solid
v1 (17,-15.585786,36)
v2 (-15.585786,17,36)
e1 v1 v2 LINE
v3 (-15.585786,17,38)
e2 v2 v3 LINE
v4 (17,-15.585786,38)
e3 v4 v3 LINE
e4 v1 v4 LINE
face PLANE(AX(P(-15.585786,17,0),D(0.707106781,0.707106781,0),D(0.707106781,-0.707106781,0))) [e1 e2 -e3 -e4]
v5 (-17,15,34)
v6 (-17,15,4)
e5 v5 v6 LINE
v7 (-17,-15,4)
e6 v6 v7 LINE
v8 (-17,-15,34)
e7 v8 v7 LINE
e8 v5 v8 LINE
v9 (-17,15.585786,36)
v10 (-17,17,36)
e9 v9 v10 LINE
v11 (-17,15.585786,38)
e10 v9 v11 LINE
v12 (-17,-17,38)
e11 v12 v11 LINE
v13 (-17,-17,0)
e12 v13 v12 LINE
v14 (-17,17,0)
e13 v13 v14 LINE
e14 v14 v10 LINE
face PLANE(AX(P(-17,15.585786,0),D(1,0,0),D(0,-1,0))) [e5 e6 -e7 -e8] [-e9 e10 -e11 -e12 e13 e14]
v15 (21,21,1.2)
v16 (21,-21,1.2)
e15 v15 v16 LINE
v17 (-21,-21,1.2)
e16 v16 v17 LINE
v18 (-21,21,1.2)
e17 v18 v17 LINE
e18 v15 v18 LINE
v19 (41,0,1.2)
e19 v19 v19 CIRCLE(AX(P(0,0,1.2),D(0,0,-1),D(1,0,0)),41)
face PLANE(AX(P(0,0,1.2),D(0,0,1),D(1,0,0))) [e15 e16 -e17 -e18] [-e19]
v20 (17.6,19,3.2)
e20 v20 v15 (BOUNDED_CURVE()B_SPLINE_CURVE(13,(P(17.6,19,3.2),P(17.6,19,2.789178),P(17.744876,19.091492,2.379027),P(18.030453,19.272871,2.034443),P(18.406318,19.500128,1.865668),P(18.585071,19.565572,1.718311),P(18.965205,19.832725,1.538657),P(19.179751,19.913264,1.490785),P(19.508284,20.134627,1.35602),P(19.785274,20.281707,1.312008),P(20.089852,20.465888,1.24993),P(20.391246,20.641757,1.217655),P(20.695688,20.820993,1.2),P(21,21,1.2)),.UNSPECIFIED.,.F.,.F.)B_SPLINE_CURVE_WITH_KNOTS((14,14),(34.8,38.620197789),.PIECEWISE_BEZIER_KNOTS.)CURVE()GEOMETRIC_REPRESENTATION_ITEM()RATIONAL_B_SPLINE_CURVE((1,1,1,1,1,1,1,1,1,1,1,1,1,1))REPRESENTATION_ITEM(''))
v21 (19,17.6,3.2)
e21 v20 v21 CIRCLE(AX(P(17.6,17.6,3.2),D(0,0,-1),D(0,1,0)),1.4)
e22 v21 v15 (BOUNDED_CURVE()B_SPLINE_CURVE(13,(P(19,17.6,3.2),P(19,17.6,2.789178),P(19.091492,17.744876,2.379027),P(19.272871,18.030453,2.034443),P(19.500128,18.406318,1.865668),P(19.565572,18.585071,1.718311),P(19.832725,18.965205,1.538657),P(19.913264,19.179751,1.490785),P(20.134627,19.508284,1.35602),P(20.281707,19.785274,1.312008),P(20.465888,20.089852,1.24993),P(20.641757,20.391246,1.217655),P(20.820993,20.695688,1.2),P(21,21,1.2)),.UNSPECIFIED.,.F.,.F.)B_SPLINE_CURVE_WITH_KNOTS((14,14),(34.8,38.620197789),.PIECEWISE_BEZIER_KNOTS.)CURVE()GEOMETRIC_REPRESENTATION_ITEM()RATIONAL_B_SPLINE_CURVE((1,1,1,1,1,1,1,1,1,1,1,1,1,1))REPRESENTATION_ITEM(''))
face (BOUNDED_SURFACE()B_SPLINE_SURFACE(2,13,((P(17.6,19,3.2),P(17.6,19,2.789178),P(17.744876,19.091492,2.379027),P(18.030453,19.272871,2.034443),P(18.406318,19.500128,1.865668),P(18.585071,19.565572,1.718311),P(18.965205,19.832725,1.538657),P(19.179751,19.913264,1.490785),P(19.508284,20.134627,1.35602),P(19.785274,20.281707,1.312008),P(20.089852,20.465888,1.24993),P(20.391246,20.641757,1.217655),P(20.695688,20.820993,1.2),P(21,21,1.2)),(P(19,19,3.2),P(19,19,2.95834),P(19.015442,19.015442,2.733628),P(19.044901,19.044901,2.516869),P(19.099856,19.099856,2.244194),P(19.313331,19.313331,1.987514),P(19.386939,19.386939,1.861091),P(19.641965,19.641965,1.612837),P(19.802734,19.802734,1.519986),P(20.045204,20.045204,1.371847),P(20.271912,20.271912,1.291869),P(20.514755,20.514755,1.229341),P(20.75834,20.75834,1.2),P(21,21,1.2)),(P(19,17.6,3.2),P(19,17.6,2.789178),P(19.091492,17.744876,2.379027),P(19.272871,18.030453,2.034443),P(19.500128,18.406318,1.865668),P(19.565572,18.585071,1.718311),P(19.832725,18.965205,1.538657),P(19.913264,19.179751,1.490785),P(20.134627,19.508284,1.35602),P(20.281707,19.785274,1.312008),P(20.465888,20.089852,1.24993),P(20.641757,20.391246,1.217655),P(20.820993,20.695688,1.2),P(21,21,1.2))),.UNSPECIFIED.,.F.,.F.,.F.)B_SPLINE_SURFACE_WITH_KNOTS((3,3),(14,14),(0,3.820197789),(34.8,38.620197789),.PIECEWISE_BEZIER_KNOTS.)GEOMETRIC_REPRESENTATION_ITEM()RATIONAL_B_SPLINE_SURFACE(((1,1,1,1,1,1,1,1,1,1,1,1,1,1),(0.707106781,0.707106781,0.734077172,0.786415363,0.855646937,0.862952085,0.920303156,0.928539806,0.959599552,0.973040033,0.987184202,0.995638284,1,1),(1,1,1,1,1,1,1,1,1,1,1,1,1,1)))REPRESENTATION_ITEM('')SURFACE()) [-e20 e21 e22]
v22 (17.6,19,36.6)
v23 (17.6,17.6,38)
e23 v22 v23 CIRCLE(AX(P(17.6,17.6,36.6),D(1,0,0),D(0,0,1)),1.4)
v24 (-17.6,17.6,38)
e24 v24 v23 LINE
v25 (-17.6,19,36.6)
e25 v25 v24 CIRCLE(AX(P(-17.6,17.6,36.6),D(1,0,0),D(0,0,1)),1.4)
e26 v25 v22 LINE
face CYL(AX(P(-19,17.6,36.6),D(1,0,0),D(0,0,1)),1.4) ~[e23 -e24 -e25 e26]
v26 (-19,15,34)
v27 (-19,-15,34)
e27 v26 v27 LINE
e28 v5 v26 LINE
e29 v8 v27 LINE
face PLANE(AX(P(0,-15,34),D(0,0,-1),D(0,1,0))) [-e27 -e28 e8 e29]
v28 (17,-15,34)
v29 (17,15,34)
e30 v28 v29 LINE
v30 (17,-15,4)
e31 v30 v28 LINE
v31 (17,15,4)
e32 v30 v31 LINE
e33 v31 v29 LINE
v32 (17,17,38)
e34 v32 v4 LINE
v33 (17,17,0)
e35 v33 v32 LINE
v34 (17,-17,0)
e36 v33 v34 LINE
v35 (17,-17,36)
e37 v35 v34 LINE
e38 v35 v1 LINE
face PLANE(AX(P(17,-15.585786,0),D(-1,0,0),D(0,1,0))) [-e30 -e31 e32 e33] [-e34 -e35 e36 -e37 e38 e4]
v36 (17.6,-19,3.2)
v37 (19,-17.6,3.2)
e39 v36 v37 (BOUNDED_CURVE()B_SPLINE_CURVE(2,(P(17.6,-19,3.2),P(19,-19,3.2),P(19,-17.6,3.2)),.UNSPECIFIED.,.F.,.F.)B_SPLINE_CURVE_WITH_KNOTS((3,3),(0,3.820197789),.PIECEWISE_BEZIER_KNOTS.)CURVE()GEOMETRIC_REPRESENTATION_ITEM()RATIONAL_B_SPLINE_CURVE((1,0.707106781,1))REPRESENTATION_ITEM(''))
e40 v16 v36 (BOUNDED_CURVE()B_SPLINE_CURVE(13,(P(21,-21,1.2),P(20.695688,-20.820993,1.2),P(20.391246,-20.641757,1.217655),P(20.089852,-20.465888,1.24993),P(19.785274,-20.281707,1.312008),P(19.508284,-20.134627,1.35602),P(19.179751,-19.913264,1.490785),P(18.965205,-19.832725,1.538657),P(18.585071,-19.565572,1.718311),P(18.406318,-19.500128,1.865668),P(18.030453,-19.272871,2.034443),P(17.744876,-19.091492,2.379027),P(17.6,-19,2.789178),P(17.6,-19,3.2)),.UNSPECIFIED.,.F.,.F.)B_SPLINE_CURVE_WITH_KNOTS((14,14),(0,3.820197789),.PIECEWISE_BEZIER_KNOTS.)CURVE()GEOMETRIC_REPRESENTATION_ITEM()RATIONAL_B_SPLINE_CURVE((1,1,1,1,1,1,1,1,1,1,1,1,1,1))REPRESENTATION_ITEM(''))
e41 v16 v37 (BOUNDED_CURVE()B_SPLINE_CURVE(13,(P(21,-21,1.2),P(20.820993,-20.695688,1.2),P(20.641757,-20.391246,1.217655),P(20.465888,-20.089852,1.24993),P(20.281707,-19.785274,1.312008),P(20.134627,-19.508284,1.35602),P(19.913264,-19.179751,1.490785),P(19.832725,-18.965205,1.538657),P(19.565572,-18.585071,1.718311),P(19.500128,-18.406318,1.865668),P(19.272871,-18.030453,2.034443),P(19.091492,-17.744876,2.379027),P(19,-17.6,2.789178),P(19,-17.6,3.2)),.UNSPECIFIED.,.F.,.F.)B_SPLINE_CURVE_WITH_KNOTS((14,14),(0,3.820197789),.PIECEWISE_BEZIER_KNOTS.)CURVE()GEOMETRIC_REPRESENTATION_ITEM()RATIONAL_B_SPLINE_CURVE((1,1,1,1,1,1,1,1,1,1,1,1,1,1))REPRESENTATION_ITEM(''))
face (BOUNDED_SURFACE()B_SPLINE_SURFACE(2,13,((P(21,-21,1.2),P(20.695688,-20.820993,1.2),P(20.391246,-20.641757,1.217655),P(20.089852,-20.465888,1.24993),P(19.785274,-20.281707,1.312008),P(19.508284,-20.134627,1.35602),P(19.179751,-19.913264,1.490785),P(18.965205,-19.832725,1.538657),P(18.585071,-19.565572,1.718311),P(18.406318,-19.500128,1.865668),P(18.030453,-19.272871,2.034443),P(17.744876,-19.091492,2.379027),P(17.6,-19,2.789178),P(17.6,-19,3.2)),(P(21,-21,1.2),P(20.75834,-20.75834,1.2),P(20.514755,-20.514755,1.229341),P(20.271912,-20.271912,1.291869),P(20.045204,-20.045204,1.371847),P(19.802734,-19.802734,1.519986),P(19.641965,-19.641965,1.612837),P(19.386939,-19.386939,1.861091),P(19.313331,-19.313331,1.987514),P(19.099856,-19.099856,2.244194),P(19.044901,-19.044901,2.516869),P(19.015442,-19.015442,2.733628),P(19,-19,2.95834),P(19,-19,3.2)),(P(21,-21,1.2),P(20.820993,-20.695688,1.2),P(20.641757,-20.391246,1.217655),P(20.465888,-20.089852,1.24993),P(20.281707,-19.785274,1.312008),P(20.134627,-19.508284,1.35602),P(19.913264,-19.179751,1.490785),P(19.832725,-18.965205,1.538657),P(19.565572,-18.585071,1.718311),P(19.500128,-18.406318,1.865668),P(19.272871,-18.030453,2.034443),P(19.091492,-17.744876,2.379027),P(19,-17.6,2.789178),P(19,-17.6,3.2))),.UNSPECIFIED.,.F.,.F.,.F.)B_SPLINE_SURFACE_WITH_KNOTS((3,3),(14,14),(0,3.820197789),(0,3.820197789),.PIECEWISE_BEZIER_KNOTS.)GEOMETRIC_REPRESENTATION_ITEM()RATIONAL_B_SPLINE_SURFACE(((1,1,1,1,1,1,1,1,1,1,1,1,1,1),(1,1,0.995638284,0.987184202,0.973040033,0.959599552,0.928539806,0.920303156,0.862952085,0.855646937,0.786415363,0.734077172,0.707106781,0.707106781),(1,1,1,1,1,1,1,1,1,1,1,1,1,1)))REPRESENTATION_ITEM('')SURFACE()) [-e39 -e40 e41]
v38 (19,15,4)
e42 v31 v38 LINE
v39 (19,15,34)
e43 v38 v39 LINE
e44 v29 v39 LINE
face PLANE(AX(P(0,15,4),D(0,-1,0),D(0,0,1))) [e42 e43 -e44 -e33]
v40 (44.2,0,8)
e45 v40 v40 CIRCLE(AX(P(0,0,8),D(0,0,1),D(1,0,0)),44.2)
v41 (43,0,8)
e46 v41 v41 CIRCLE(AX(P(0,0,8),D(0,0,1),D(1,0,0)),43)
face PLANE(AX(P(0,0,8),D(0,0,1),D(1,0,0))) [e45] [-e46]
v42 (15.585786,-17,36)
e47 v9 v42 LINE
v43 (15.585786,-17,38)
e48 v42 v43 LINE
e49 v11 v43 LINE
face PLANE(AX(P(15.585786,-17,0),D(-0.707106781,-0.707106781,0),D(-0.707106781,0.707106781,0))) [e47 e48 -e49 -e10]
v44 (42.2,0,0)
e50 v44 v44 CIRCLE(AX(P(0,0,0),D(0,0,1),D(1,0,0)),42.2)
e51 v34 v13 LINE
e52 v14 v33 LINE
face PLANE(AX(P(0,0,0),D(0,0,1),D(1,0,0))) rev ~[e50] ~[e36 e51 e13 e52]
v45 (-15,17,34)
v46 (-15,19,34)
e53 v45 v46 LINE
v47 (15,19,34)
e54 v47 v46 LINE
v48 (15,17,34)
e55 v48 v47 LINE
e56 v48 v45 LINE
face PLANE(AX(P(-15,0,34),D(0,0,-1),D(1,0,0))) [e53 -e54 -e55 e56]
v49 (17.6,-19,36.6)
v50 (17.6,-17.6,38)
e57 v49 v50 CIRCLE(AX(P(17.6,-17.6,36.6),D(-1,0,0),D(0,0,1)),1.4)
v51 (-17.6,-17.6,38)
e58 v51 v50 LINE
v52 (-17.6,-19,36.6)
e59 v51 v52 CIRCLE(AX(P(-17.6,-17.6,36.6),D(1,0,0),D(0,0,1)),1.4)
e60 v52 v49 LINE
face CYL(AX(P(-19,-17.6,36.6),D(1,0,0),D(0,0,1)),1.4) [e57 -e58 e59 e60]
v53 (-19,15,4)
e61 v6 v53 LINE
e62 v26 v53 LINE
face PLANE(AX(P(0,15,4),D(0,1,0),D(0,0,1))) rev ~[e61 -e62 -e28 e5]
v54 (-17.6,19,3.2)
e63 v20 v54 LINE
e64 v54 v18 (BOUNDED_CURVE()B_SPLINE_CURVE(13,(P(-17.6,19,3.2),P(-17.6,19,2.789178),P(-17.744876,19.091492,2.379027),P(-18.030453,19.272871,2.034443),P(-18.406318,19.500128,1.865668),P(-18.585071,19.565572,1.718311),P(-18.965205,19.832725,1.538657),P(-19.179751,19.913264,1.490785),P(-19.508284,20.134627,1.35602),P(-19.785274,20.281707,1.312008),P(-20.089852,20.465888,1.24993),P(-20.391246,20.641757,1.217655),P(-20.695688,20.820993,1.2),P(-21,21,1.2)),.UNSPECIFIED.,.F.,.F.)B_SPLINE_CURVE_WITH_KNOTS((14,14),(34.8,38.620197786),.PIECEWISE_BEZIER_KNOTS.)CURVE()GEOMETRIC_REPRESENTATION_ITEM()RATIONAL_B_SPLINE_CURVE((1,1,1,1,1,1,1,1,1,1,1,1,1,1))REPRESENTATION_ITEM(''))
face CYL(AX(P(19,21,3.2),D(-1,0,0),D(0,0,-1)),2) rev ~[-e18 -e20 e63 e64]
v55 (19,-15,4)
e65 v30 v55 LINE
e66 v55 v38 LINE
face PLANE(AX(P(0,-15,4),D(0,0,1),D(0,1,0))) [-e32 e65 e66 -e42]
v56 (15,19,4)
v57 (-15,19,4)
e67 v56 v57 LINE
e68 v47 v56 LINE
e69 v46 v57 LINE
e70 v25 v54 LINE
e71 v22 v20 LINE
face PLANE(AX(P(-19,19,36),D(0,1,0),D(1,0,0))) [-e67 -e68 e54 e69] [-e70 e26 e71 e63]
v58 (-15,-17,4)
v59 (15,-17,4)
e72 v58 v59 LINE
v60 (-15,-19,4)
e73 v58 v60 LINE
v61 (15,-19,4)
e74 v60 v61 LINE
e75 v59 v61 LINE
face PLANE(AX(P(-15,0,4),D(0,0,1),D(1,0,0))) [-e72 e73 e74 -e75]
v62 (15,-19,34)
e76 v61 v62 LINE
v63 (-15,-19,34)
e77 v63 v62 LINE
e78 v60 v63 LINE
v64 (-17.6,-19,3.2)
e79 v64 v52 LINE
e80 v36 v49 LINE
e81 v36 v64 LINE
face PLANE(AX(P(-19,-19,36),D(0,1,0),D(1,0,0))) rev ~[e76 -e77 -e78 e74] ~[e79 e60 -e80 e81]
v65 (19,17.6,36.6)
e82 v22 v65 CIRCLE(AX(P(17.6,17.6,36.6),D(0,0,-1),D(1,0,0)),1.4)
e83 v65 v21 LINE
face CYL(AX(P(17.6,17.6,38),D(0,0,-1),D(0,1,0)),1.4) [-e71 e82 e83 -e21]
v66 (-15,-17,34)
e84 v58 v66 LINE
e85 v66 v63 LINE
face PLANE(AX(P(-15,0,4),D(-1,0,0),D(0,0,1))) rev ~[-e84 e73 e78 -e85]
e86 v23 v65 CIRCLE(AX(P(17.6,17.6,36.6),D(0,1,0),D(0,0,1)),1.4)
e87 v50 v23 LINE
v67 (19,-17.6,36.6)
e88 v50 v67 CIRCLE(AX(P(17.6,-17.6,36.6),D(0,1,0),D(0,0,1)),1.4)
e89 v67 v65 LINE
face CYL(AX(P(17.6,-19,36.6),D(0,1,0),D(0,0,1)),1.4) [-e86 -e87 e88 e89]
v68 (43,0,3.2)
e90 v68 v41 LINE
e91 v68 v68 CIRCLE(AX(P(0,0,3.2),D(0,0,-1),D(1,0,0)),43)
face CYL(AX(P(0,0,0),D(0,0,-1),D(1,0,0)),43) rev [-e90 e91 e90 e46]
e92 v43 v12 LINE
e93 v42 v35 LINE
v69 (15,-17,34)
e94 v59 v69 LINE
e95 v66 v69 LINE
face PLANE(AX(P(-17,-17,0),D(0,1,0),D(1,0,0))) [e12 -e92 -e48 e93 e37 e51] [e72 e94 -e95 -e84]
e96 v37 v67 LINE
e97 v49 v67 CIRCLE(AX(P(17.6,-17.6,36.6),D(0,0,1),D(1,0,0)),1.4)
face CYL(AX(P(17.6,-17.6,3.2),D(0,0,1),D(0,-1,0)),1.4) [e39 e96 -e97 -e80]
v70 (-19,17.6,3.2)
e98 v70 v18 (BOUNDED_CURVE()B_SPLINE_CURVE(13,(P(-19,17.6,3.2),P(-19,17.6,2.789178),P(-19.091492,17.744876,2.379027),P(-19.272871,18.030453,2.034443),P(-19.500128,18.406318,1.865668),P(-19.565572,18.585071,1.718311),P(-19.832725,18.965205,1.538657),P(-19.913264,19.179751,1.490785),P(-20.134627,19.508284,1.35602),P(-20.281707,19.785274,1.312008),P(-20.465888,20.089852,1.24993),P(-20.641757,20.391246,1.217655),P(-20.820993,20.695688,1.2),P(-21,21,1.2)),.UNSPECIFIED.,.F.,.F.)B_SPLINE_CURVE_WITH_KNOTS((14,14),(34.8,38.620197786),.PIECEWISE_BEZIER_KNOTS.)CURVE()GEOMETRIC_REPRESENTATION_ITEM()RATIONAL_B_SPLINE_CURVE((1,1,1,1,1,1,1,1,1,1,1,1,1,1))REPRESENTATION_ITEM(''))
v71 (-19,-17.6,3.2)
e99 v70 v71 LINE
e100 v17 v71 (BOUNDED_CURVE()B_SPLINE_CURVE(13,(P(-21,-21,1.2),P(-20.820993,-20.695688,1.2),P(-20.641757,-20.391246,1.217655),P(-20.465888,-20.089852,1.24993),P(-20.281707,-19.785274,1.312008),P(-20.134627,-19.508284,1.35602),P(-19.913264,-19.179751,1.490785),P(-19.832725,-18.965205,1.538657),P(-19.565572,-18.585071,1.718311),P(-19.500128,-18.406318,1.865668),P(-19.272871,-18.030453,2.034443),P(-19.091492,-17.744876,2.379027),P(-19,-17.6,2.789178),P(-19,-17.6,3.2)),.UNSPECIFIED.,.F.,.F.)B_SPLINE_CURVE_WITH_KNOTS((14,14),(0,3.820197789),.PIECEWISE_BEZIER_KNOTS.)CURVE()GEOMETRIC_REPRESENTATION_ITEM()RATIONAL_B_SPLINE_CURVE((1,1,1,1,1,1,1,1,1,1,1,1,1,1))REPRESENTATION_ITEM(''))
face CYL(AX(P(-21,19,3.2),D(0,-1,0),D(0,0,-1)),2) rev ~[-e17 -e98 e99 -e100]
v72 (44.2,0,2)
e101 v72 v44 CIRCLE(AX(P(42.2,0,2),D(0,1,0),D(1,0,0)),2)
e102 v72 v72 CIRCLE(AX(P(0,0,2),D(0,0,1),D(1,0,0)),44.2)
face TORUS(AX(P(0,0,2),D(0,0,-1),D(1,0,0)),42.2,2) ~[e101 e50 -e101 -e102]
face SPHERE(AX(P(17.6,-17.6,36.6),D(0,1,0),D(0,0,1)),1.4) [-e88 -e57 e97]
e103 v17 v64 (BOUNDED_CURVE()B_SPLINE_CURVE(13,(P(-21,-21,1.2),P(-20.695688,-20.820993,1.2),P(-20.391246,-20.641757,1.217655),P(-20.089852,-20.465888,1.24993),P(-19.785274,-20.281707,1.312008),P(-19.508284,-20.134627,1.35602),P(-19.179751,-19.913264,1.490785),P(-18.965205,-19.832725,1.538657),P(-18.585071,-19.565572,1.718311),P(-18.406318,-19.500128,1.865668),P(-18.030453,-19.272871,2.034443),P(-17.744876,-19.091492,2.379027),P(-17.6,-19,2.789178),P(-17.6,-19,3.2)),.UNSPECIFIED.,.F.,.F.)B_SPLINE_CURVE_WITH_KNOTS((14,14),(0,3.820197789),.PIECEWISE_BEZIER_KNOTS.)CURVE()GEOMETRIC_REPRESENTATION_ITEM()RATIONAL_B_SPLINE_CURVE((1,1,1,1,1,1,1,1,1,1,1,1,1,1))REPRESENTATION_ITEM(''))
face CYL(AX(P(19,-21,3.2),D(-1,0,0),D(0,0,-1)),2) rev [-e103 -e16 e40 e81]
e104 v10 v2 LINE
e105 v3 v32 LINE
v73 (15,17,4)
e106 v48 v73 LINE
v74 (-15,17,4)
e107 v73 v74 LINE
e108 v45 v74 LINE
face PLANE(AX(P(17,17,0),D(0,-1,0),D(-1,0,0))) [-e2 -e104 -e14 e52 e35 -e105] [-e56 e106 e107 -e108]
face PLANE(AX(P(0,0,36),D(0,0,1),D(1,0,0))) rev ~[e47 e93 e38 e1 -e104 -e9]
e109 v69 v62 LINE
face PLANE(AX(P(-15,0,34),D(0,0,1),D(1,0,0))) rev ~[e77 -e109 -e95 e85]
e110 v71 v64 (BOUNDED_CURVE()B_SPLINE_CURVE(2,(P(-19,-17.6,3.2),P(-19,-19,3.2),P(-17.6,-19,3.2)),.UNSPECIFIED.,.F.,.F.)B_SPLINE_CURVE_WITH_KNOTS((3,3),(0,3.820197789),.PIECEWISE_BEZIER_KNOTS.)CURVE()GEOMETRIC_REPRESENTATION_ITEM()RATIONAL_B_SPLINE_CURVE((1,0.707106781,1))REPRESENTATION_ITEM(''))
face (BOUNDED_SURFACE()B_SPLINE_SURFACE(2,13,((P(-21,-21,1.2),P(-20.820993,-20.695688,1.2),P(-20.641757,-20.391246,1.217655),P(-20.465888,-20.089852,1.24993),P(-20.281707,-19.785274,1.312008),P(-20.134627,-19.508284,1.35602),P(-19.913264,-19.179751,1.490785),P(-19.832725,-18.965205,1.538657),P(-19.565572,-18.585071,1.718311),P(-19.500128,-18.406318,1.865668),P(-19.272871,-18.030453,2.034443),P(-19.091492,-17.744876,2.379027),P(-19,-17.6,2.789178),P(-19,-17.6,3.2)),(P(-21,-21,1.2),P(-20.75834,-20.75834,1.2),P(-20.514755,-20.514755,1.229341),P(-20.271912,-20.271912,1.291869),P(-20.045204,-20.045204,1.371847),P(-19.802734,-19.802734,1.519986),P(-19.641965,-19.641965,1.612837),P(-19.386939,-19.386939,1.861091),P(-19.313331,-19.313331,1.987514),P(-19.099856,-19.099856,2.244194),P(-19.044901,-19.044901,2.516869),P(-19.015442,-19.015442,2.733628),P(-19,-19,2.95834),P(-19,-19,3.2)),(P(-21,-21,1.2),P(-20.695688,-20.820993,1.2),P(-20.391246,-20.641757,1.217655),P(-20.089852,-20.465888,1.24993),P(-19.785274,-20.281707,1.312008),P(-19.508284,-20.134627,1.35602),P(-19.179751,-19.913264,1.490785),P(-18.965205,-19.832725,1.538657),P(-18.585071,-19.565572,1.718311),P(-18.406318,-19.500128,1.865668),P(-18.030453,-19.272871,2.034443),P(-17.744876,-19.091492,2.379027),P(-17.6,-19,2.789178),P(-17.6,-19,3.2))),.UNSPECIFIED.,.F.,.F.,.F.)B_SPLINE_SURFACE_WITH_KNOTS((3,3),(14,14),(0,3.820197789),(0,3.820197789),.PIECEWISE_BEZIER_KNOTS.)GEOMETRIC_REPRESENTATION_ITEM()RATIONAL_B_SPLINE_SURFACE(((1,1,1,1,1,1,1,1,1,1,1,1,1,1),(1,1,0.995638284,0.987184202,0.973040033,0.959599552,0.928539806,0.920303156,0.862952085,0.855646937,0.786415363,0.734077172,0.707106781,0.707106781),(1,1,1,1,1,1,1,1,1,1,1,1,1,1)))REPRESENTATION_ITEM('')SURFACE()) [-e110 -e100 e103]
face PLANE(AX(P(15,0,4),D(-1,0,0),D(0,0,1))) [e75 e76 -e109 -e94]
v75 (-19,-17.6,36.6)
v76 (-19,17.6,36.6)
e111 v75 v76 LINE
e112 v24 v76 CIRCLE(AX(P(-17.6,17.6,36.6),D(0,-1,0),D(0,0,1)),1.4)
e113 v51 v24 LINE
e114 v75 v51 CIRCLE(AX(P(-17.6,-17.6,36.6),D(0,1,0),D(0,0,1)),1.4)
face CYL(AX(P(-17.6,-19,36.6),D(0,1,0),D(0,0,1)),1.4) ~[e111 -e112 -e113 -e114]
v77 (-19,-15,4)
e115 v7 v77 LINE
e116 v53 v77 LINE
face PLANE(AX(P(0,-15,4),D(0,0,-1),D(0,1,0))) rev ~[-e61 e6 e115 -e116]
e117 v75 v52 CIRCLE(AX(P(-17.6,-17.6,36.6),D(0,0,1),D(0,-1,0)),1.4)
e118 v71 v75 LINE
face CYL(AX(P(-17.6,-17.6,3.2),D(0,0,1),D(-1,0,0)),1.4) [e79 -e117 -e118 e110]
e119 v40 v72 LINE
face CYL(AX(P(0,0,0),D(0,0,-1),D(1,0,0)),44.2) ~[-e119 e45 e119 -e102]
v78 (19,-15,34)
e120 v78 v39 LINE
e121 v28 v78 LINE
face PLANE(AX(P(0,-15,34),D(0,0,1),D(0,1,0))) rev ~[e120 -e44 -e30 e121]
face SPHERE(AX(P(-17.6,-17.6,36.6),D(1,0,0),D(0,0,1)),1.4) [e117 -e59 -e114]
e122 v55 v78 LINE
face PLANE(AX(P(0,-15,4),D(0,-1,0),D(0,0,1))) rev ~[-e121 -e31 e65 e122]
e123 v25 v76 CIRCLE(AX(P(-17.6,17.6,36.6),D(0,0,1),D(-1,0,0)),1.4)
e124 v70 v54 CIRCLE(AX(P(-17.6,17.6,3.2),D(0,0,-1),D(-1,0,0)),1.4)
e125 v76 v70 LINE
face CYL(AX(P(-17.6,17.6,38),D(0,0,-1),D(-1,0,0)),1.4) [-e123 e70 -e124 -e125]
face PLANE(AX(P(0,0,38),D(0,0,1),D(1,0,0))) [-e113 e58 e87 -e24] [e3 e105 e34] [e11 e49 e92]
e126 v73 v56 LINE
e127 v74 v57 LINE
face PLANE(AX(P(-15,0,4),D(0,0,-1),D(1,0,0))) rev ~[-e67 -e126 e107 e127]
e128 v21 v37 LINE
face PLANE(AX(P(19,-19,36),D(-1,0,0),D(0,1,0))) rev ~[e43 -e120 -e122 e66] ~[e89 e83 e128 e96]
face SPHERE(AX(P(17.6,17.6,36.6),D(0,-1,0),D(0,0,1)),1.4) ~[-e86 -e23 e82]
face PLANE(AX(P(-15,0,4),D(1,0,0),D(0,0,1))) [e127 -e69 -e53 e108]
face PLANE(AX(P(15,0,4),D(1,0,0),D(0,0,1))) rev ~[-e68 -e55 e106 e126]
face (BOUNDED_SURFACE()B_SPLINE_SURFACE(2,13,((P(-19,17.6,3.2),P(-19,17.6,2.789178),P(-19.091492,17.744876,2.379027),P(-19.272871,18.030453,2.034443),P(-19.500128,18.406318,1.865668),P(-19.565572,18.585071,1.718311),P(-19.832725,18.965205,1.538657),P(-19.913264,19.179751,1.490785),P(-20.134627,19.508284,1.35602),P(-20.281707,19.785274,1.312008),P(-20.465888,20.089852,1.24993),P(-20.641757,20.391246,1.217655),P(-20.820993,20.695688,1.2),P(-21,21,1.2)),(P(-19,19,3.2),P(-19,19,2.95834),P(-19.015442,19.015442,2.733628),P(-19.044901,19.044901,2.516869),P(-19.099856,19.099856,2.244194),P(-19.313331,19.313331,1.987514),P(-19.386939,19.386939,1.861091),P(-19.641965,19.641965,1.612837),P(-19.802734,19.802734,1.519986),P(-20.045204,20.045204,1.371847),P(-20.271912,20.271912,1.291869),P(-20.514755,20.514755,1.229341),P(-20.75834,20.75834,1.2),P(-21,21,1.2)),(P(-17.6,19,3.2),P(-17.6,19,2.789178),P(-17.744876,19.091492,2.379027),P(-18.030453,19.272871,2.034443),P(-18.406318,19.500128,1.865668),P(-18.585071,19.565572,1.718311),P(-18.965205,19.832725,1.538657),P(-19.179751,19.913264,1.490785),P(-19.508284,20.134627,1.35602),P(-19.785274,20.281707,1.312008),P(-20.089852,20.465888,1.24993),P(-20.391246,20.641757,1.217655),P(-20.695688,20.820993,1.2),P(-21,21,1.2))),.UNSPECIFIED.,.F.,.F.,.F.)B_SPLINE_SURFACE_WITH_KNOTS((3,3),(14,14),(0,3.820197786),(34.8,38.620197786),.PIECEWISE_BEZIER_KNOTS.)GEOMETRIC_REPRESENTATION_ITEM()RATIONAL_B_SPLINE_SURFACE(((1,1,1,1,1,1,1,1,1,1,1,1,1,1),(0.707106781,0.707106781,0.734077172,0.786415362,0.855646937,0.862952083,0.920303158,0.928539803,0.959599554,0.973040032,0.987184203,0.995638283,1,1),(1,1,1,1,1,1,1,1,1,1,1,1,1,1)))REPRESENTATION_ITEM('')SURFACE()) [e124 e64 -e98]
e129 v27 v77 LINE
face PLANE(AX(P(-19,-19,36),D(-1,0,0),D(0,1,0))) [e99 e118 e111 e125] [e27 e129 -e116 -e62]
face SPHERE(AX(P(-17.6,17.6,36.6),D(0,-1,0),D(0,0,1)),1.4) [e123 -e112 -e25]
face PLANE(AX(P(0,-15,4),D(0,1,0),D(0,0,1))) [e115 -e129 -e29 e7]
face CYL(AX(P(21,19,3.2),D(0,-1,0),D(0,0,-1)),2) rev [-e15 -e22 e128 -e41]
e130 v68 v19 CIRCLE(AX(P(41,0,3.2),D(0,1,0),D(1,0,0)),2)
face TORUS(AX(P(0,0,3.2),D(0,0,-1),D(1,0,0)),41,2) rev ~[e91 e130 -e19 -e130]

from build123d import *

# Parameters (mm, degrees)
SKETCH001_R          = 44.2
SKETCH001_W          = 34
SKETCH001_H          = 34
PAD_DEPTH            = 1.2
SKETCH002_W          = 38
SKETCH002_H          = 38
SKETCH002_W_2        = 34
SKETCH002_H_2        = 34
PAD001_DEPTH         = 36
SKETCH003_W          = 38
SKETCH003_H          = 38
PAD002_DEPTH         = 2
SKETCH004_W          = 30
SKETCH004_H          = 30
POCKET_DEPTH         = 44.201
POCKET_DEPTH_BACK    = -44.201
SKETCH005_W          = 30
SKETCH005_H          = 30
POCKET001_DEPTH      = 44.201
POCKET001_DEPTH_BACK = -44.201
POCKET002_DEPTH      = 299.329299
POLARPATTERN_COUNT   = 2
SKETCH007_R          = 44.2
SKETCH007_R_2        = 43
PAD003_DEPTH         = 8
FILLET_R             = 2
FILLET001_R          = 2
FILLET002_R          = 1.4


with BuildPart() as part:
    # Sketch001 → Pad (new body)
    with BuildSketch(Plane.XY):
        Circle(SKETCH001_R)
        Rectangle(SKETCH001_W, SKETCH001_H, mode=Mode.SUBTRACT)
    extrude(amount=PAD_DEPTH)

    # Sketch002 → Pad001 (join)
    with BuildSketch(Plane.XY):
        Rectangle(SKETCH002_W, SKETCH002_H)
        Rectangle(SKETCH002_W_2, SKETCH002_H_2, mode=Mode.SUBTRACT)
    extrude(amount=PAD001_DEPTH)

    # Sketch003 (on Plane of DatumPlane) → Pad002 (join)
    with BuildSketch(Plane.XY.offset(36)):
        Rectangle(SKETCH003_W, SKETCH003_H)
    extrude(amount=PAD002_DEPTH)

    # Sketch004 → Pocket (cut, two sides)
    with BuildSketch(Plane.YZ) as pocket_sk:
        with Locations((0, 19)):
            Rectangle(SKETCH004_W, SKETCH004_H)
    extrude(amount=-POCKET_DEPTH, mode=Mode.SUBTRACT)
    extrude(pocket_sk.sketch, amount=-POCKET_DEPTH_BACK, mode=Mode.SUBTRACT)

    # Sketch005 → Pocket001 (cut, two sides)
    with BuildSketch(Plane.XZ) as pocket001_sk:
        with Locations((0, 19)):
            Rectangle(SKETCH005_W, SKETCH005_H)
    extrude(amount=-POCKET001_DEPTH, mode=Mode.SUBTRACT)
    extrude(pocket001_sk.sketch, amount=-POCKET001_DEPTH_BACK, mode=Mode.SUBTRACT)

    # Sketch006 → Pocket002 (cut, through all)
    with BuildSketch(Plane.XY):
        Polygon((-17, 15.585786), (-17, -17), (15.585786, -17), align=None)
    pocket002 = extrude(amount=POCKET002_DEPTH, mode=Mode.SUBTRACT)

    # PolarPattern: Pocket002 ×2 about axis
    polarpattern_axis = Axis((0, 0, 0), (0, 0, 1))
    for i in range(1, POLARPATTERN_COUNT):
        add(pocket002.rotate(polarpattern_axis, i * 360 / POLARPATTERN_COUNT), mode=Mode.SUBTRACT)

    # Sketch007 → Pad003 (join)
    with BuildSketch(Plane.XY):
        Circle(SKETCH007_R)
        Circle(SKETCH007_R_2, mode=Mode.SUBTRACT)
    extrude(amount=PAD003_DEPTH)

    # Fillet
    fillet_edges = [part.edges().sort_by_distance(p)[0] for p in [
        (0, -19, 1.2),
        (-19, 0, 1.2),
        (19, 0, 1.2),
        (0, 19, 1.2),
        (-43, 0, 1.2),
    ]]
    fillet(fillet_edges, radius=FILLET_R)

    # Fillet001
    fillet001_edges = [part.edges().sort_by_distance(p)[0] for p in [
        (-44.2, 0, 0),
    ]]
    fillet(fillet001_edges, radius=FILLET001_R)

    # Fillet002
    fillet002_edges = [part.edges().sort_by_distance(p)[0] for p in [
        (19, 0, 38),
        (0, -19, 38),
        (-19, 0, 38),
        (0, 19, 38),
        (19, 19, 19.6),
        (19, -19, 19.6),
        (-19, -19, 19.6),
        (-19, 19, 19.6),
    ]]
    fillet(fillet002_edges, radius=FILLET002_R)


solid = part.part
